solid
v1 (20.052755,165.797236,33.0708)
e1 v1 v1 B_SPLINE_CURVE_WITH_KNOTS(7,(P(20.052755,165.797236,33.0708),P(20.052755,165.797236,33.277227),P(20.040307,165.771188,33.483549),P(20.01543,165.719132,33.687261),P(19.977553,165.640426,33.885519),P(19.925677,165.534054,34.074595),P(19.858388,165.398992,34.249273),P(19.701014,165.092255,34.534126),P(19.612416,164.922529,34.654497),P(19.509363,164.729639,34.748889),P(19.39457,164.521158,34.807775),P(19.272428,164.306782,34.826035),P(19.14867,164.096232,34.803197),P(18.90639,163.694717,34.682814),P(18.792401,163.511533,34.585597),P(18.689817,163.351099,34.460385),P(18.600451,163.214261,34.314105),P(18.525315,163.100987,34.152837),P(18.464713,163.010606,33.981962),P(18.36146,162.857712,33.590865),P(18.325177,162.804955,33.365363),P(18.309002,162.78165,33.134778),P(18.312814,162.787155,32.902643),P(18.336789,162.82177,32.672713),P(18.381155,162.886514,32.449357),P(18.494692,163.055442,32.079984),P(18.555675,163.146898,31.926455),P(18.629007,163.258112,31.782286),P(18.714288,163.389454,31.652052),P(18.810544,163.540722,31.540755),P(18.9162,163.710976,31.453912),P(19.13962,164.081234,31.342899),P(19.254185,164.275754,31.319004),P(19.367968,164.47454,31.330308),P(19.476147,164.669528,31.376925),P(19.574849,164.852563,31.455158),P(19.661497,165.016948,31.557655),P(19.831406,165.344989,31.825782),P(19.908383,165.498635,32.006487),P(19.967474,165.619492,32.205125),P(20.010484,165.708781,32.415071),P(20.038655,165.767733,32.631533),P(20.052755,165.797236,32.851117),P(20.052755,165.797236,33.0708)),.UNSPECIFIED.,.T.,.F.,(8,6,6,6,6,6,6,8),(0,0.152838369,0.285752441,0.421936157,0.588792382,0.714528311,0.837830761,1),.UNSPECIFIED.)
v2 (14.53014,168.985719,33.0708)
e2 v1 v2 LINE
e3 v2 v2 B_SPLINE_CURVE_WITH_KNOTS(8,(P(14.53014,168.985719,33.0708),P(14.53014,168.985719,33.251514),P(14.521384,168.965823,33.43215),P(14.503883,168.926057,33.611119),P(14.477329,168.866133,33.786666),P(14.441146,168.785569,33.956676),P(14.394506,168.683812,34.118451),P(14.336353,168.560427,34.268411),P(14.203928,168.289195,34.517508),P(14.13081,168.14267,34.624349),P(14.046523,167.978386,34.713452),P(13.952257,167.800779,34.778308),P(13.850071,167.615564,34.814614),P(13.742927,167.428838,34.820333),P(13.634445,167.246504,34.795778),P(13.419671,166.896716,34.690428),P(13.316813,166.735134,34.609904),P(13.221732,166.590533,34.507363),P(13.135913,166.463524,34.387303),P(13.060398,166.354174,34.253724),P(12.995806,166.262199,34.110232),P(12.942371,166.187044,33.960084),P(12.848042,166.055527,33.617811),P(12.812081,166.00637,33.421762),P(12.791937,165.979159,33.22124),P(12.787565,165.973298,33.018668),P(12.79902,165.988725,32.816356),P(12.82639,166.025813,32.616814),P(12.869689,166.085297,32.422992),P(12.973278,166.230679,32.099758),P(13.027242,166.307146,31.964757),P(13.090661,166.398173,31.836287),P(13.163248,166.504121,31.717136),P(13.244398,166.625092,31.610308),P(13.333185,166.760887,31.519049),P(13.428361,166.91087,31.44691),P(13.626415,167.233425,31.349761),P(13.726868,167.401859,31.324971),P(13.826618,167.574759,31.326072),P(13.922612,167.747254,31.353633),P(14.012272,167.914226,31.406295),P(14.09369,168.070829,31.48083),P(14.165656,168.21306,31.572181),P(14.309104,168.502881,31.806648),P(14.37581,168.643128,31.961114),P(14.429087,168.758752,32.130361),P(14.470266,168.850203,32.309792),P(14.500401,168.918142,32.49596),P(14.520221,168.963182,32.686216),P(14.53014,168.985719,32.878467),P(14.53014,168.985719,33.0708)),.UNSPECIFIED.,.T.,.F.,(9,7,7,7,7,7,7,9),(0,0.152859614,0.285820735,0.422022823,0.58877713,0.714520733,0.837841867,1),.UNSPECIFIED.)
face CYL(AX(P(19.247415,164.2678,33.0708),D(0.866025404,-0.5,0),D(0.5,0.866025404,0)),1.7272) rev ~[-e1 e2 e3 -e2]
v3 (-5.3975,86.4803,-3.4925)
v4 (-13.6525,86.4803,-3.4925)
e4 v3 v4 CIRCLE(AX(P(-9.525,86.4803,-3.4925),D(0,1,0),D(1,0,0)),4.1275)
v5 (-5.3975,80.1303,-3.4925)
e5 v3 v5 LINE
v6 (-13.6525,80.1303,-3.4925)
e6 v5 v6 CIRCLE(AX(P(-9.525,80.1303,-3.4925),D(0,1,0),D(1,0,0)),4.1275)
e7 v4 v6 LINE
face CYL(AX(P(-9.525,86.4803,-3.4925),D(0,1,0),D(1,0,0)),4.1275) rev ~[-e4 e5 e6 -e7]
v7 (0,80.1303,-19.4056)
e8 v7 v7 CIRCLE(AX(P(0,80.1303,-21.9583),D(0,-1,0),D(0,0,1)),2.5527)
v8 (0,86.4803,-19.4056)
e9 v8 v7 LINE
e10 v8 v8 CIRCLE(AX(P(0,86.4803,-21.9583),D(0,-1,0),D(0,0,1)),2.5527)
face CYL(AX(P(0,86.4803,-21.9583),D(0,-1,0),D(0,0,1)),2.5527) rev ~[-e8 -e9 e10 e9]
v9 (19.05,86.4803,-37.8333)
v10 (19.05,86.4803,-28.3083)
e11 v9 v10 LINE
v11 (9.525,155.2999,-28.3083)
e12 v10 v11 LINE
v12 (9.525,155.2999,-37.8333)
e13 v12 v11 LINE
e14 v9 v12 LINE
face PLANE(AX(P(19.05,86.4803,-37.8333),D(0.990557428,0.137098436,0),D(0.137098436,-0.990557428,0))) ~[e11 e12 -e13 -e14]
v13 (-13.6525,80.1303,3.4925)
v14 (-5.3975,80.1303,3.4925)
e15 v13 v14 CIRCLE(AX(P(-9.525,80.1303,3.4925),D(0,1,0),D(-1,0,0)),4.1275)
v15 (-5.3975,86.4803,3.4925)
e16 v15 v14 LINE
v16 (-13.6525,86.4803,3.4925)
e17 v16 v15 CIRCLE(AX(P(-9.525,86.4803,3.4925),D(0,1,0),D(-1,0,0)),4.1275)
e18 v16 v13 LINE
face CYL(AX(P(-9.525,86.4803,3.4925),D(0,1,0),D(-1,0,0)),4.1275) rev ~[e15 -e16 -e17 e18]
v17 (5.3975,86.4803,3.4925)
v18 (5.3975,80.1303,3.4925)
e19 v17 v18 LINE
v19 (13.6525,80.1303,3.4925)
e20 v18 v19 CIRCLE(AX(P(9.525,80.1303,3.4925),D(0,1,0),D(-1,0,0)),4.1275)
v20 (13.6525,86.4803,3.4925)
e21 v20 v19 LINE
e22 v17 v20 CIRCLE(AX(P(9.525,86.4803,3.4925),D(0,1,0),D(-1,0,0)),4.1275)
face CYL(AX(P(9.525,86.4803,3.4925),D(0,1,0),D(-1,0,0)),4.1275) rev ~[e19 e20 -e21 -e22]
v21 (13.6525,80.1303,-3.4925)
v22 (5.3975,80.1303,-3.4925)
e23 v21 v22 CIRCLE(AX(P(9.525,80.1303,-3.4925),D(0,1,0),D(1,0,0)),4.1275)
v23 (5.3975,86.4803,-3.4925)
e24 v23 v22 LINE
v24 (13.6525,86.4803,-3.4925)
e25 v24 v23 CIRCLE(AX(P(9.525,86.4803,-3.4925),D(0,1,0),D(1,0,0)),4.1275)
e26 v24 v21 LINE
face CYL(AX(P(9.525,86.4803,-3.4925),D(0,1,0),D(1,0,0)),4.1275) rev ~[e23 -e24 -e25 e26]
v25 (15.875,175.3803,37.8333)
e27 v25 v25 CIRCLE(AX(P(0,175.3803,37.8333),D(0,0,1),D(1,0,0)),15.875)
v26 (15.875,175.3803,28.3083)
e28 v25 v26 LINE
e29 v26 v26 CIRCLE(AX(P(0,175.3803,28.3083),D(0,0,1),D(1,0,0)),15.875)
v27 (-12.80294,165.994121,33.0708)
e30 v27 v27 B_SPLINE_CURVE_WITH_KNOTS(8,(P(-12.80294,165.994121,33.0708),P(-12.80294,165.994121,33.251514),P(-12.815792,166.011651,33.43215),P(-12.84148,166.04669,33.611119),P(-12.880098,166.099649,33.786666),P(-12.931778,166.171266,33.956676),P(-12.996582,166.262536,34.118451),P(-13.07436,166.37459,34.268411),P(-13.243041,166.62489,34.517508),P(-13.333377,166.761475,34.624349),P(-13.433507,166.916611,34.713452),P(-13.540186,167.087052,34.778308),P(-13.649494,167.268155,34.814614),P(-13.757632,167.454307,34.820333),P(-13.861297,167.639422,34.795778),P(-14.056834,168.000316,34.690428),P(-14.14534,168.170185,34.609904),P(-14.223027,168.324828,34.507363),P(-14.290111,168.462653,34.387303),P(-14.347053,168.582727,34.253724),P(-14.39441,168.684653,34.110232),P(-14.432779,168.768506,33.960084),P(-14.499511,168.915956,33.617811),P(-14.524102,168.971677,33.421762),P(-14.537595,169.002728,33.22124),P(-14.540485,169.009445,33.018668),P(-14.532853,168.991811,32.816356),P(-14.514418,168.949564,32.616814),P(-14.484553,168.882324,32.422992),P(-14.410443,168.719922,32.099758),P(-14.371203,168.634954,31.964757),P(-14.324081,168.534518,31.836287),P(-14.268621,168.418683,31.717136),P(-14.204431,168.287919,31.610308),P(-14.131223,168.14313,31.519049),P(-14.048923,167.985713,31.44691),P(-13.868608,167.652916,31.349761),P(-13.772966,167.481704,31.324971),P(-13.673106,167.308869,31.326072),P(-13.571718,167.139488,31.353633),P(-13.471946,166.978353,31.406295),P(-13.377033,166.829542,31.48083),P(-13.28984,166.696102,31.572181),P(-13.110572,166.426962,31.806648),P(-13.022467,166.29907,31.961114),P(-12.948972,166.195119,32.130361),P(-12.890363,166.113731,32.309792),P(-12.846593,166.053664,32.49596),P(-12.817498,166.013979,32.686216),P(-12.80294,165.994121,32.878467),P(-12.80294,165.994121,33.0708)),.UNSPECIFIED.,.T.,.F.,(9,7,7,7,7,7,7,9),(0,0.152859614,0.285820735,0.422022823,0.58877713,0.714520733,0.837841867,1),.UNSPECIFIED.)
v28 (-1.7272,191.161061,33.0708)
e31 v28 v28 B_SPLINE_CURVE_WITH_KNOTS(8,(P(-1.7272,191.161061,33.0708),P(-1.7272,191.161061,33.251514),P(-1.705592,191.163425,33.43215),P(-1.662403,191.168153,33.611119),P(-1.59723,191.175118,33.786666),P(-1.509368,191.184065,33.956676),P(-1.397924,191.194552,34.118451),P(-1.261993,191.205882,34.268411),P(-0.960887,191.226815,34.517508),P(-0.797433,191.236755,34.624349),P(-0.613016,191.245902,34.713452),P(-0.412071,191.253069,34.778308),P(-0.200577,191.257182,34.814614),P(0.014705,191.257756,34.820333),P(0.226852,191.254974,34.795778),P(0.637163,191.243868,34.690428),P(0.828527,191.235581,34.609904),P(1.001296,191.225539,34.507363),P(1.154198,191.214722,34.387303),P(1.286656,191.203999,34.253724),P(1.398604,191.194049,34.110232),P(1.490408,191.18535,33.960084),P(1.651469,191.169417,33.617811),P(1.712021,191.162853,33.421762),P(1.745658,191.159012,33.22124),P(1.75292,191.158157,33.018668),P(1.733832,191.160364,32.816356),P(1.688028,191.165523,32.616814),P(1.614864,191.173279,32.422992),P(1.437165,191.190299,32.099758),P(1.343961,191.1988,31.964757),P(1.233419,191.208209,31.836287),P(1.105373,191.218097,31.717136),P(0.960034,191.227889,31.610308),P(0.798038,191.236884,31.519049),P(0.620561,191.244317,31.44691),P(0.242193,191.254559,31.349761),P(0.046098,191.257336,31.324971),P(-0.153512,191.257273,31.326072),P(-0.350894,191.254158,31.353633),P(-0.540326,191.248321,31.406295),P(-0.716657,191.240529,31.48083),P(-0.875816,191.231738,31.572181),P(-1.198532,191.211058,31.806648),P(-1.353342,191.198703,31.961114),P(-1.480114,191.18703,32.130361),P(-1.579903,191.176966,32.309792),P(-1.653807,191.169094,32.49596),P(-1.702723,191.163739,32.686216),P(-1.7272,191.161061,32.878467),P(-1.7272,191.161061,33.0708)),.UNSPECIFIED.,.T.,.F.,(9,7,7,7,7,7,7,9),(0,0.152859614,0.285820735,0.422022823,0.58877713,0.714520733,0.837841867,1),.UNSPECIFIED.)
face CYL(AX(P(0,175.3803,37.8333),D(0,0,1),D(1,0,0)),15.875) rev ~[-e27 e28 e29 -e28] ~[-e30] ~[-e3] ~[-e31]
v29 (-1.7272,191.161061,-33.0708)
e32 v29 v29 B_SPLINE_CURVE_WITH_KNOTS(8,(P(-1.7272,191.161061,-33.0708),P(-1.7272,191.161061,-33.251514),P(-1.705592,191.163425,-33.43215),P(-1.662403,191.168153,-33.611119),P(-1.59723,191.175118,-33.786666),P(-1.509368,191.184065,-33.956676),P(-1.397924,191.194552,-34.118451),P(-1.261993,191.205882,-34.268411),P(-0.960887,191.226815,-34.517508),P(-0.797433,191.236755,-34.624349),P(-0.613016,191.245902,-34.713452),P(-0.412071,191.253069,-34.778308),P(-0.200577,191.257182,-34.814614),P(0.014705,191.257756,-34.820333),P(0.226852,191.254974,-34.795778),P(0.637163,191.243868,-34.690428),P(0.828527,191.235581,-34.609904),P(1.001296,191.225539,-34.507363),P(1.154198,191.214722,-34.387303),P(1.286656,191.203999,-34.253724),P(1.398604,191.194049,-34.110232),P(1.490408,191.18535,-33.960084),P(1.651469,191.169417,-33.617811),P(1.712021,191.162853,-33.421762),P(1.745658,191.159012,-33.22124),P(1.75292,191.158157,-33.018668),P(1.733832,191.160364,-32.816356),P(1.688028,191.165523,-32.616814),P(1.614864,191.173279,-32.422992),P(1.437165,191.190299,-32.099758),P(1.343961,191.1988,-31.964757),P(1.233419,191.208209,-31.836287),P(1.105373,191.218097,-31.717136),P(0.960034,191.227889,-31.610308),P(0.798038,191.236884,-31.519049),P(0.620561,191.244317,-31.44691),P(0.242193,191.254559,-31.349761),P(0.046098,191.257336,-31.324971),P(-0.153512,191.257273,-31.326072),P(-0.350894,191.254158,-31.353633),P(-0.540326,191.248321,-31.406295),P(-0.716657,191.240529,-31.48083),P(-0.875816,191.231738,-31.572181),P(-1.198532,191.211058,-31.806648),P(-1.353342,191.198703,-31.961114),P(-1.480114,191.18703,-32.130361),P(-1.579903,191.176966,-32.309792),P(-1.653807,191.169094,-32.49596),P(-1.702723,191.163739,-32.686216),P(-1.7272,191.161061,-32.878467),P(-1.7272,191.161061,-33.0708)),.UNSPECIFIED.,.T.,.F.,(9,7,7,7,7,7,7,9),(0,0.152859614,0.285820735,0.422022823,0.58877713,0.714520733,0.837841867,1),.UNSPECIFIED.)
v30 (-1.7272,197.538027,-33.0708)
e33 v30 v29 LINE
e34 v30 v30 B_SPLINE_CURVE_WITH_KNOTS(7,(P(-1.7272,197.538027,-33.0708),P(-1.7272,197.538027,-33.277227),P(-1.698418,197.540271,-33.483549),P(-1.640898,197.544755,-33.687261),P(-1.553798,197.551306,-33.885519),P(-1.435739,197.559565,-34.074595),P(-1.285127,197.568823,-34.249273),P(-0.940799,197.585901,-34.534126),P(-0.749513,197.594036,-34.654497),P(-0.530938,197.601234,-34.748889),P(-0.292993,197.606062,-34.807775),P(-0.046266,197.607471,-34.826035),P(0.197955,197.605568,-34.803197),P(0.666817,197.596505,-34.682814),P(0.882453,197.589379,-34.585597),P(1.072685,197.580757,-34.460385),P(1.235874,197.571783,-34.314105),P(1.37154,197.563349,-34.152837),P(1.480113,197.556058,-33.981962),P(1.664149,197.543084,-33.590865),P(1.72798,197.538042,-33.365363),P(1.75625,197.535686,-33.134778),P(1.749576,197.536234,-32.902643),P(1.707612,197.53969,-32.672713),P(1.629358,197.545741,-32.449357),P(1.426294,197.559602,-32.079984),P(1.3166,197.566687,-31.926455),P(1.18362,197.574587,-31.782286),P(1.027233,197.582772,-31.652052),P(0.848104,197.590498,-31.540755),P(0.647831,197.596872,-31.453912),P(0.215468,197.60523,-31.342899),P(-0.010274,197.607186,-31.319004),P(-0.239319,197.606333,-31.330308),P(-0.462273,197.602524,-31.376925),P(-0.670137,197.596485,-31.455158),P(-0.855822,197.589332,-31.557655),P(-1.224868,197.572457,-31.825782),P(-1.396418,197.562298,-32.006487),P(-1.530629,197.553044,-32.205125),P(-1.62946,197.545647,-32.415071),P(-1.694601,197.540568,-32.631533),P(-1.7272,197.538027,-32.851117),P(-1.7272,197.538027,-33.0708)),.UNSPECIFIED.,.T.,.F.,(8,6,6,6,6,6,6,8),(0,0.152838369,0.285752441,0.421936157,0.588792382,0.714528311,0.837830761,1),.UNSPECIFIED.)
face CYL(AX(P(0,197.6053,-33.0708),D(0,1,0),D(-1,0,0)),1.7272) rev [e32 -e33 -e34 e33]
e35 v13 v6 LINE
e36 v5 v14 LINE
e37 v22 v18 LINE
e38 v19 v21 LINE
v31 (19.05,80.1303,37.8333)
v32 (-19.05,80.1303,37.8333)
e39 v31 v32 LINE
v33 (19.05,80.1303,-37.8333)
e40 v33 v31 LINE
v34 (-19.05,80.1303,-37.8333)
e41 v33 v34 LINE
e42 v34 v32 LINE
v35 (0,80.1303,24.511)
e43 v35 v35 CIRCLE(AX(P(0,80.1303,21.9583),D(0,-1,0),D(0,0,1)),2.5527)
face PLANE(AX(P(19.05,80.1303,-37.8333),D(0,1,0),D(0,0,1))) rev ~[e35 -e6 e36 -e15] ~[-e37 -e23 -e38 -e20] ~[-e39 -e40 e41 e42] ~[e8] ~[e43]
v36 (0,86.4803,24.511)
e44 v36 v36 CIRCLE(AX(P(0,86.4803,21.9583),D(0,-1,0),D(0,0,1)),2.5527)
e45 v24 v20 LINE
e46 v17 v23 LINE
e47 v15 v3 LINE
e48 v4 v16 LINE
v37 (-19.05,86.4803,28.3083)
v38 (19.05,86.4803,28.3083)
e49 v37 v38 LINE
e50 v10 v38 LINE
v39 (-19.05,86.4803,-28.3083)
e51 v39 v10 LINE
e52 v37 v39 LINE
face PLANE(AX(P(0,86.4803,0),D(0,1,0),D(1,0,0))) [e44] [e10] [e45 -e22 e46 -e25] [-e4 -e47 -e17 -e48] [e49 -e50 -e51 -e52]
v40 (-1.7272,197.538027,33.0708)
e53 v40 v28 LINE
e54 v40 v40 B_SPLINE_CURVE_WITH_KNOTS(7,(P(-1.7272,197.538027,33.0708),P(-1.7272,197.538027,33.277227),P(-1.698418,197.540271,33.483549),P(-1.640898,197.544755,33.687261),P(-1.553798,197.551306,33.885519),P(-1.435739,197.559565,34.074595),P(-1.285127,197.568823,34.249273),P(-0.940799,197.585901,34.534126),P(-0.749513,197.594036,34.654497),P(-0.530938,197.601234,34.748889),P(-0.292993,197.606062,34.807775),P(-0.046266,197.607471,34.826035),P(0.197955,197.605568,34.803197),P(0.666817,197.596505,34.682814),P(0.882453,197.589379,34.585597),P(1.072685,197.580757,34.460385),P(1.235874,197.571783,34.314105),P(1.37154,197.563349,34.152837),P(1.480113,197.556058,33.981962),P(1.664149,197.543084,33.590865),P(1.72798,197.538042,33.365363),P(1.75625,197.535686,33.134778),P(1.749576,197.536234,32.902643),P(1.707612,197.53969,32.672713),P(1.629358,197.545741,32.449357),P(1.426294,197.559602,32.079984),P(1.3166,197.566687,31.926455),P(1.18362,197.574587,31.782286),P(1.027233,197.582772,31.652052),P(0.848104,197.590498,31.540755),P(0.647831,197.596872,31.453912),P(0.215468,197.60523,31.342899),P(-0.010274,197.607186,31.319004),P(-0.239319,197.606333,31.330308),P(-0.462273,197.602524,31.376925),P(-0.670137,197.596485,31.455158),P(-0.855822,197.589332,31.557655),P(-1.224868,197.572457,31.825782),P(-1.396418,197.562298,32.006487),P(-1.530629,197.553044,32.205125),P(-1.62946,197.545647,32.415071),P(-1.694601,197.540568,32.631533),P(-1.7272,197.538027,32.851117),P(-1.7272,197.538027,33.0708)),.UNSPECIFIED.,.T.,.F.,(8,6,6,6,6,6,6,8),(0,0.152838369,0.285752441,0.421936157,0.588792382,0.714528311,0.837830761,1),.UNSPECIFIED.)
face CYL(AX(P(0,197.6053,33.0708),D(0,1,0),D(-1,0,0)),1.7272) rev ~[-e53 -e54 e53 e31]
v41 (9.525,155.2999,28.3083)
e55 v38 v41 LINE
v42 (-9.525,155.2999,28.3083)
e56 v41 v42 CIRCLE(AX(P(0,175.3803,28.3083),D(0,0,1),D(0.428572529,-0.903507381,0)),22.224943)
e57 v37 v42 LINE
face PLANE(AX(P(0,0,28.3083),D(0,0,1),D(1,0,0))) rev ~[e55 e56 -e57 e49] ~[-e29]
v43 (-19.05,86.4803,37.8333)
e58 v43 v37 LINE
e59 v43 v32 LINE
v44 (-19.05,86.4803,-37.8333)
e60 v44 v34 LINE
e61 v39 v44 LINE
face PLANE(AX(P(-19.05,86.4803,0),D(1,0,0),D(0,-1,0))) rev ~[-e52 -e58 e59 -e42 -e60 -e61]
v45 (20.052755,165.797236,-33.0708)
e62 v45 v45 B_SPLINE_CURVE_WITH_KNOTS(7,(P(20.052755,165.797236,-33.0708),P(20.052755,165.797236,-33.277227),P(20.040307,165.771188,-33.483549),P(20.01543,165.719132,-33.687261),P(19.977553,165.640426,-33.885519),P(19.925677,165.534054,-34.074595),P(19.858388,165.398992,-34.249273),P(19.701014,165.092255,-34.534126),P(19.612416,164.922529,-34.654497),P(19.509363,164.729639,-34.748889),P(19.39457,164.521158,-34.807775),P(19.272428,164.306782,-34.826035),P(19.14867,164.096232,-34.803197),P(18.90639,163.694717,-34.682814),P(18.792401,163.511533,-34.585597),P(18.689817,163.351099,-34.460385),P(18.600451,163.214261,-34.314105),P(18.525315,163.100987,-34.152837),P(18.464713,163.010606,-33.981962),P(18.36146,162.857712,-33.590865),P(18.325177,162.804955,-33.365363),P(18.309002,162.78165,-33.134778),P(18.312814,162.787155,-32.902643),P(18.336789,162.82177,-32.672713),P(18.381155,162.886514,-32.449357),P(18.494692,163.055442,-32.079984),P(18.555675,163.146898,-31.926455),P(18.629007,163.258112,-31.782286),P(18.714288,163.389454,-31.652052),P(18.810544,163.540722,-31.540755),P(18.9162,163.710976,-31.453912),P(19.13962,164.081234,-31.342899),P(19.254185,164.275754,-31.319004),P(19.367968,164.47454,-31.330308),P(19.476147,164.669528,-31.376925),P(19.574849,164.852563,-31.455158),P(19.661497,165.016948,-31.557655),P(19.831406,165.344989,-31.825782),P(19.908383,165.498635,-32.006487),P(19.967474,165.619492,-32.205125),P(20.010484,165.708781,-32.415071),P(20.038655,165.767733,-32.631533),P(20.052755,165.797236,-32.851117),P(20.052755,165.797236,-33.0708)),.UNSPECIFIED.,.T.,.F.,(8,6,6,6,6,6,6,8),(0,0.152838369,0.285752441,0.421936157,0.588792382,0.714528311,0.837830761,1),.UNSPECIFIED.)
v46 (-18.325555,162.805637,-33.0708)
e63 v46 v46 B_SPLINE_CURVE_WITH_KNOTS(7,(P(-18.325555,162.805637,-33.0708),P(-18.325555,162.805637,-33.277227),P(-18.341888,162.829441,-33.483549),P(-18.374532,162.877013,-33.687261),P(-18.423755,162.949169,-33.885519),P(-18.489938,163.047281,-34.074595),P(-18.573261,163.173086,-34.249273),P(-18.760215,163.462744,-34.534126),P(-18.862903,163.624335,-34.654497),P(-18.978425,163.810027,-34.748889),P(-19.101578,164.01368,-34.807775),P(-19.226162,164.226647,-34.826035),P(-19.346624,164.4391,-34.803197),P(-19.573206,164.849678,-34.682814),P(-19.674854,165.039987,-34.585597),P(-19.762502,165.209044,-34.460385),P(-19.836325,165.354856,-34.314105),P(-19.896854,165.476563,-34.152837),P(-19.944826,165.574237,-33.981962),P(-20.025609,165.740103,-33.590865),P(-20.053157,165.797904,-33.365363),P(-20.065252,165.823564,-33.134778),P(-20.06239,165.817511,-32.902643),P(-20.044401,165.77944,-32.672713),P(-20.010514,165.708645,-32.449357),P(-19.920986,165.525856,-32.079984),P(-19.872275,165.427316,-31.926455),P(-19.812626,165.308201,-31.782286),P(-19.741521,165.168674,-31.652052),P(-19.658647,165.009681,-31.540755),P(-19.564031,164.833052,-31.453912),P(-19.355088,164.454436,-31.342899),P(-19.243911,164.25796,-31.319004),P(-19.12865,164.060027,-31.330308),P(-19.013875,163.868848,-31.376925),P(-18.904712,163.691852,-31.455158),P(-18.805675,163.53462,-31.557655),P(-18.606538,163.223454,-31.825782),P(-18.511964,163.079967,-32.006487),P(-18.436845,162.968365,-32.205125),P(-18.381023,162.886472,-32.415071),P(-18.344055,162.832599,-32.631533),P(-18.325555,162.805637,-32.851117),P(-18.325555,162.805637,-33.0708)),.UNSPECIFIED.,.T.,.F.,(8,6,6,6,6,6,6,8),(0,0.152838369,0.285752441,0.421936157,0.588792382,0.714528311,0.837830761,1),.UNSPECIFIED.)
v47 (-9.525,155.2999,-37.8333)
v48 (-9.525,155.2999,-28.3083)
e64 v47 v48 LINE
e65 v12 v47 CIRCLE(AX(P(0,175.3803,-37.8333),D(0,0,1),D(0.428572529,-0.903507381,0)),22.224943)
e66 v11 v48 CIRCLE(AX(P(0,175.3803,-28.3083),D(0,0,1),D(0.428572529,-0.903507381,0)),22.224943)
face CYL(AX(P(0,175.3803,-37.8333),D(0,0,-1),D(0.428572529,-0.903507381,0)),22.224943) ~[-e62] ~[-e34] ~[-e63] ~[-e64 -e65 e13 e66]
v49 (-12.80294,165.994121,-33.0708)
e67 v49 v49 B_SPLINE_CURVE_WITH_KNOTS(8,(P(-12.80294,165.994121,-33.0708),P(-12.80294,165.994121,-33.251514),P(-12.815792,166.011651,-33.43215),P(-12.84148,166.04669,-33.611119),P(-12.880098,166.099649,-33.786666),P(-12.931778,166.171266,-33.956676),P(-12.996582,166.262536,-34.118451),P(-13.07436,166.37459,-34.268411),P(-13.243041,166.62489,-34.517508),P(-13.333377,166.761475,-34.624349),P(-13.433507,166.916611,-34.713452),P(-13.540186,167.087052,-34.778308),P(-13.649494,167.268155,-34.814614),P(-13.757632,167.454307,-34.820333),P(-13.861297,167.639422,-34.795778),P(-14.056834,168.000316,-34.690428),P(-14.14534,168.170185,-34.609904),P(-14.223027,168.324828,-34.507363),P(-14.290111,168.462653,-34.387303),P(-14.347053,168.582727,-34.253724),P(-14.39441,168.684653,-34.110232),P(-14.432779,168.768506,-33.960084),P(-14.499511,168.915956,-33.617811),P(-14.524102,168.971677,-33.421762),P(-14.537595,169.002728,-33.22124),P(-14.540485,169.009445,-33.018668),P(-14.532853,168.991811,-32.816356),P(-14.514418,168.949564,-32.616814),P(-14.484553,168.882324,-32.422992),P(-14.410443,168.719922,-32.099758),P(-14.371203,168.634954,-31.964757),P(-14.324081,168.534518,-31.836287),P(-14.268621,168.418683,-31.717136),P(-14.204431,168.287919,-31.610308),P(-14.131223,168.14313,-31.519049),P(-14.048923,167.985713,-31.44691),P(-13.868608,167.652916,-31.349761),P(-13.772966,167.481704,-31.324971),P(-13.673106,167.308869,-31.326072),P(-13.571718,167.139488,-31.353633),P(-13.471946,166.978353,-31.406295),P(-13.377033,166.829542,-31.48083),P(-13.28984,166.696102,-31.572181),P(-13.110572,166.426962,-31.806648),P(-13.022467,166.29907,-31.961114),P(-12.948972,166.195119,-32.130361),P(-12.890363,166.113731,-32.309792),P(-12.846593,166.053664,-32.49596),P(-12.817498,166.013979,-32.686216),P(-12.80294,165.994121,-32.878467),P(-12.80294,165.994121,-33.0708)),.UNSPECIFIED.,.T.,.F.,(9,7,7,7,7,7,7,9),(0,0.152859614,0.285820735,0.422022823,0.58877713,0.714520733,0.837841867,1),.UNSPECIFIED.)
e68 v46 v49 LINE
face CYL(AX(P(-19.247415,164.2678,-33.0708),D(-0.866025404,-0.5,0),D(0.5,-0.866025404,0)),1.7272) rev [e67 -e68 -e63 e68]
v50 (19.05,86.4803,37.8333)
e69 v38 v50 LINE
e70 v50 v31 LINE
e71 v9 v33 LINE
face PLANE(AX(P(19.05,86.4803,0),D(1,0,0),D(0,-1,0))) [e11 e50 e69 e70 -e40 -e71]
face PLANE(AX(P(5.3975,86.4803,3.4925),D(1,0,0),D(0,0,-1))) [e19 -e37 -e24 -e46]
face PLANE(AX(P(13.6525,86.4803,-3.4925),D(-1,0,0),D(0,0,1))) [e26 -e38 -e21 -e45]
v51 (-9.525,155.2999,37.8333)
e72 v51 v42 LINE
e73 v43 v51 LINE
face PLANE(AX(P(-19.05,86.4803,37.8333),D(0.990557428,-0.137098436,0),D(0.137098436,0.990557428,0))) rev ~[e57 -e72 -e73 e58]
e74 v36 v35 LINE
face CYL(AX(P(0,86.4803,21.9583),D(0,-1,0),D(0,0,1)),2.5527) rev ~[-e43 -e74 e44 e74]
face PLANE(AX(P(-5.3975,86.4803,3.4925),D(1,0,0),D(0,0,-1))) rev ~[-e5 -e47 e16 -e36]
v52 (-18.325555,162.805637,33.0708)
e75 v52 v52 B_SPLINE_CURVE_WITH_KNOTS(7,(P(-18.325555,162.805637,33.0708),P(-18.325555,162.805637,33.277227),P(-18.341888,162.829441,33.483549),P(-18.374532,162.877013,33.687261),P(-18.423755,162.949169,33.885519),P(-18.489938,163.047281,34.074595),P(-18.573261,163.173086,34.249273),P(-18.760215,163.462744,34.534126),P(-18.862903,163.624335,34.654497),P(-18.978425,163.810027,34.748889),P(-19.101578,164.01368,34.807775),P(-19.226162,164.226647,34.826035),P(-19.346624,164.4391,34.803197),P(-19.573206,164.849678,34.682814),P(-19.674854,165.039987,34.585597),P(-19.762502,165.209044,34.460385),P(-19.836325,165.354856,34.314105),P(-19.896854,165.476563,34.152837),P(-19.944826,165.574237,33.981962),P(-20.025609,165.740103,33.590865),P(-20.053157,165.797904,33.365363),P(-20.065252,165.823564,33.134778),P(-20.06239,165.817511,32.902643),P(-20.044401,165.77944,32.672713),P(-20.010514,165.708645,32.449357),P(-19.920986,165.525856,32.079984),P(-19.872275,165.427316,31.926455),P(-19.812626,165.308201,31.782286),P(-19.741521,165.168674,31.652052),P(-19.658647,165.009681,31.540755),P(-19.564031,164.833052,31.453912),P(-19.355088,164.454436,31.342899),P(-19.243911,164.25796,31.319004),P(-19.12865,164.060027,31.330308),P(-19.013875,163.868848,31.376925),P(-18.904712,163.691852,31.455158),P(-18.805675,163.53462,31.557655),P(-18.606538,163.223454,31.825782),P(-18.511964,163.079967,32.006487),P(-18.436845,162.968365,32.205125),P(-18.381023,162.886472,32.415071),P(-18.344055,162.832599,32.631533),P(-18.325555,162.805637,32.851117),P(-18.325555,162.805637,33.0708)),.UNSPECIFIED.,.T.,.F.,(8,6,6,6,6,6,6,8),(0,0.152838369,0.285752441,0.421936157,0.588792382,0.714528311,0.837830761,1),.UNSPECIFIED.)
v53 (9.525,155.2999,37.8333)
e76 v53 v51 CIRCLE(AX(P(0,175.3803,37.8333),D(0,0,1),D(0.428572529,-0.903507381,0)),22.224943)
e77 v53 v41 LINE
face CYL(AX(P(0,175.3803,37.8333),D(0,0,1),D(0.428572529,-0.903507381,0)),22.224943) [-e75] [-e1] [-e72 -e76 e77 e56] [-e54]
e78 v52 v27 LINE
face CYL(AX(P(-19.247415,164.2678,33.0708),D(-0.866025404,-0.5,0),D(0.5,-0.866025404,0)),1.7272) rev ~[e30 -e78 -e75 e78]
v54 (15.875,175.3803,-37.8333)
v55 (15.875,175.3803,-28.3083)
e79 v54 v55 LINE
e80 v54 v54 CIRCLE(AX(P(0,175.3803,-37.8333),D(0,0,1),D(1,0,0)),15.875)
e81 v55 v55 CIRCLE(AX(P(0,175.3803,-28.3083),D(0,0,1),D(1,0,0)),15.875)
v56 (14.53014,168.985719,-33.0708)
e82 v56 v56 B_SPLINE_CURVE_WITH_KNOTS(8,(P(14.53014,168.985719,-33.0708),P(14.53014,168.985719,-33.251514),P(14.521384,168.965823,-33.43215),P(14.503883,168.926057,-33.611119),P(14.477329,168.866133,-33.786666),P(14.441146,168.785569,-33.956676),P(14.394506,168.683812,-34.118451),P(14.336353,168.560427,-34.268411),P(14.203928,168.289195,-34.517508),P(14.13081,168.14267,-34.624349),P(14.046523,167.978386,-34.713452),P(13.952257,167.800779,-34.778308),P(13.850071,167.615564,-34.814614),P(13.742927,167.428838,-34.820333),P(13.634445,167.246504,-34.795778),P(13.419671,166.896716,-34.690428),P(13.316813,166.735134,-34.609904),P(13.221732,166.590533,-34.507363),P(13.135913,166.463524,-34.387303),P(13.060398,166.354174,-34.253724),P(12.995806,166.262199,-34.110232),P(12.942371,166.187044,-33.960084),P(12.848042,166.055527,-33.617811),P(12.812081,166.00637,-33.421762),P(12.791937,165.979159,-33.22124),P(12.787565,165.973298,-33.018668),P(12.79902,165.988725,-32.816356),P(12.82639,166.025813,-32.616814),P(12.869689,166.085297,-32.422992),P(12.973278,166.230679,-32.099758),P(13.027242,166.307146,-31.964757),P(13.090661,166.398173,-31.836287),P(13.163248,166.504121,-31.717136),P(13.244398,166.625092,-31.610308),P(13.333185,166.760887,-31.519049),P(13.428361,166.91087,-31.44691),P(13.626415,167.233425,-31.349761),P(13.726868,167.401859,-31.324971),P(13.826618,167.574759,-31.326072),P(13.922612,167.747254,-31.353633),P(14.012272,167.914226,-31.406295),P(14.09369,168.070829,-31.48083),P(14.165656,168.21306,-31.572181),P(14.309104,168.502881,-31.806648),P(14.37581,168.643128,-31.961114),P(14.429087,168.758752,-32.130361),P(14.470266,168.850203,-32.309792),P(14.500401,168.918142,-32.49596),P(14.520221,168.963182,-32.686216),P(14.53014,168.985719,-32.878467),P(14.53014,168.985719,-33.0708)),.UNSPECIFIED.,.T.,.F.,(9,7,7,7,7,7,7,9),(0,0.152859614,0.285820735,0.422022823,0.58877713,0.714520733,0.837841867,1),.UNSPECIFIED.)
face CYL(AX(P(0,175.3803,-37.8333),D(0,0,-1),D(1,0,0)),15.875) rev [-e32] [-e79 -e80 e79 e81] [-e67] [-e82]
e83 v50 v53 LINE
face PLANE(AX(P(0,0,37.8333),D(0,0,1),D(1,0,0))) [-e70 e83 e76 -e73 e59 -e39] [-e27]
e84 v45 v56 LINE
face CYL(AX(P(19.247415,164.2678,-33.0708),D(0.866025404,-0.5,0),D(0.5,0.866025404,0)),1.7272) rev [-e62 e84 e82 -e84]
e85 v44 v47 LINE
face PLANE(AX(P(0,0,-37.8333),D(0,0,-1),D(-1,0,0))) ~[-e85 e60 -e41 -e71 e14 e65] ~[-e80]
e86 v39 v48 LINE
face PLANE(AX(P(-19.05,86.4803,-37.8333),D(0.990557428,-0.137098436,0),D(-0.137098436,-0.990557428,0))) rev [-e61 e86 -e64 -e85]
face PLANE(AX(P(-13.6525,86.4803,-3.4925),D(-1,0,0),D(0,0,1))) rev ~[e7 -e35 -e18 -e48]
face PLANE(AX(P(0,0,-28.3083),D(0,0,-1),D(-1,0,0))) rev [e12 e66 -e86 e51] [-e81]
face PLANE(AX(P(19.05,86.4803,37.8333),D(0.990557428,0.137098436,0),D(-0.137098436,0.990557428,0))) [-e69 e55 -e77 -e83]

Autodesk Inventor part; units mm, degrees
ref_plane "YZ Plane" through (0, 0, 0) normal (1, 0, 0) x (0, 1, 0)
sketch "Sketch1" plane through (0, 0, 0) normal (0, 0, 1) x (1, 0, 0)
  arc A0 (19.05, 73.7803) -> (-19.05, 73.7803) centre (0, 0) ccw
  line L0 (0, 86.4803) -> (19.05, 86.4803)
  line L1 (19.05, 86.4803) -> (19.05, 73.7803)
  line L2 (0, 76.2) -> (0, 86.4803) construction
  line L3 (0, 86.4803) -> (-19.05, 86.4803)
  line L4 (-19.05, 86.4803) -> (-19.05, 73.7803)
  dimension "d0" = 152.4
  dimension "d1" = 19.05
  dimension "d2" = 12.7
extrude "Extrusion1" add sketch "Sketch1" along normal mid plane 75.6666
sketch "Sketch2" plane through (-19.05, 86.4803, 37.8333) normal (0, 1, 0) x (1, 0, 0)
  line L0 (0, 75.6666) -> (0, 0) construction
  line L1 (0, 37.8333) -> (38.1, 37.8333) construction
  line L2 (38.1, 75.6666) -> (38.1, 0) construction
  line L3 (0, 75.6666) -> (38.1, 75.6666) construction
  line L4 (19.05, 75.6666) -> (19.05, 0) construction
  line L5 (38.1, 0) -> (0, 0) construction
  line L6 (28.575, 34.3408) -> (28.575, 41.3258) construction
  line L7 (24.4475, 34.3408) -> (24.4475, 41.3258)
  line L8 (32.7025, 41.3258) -> (32.7025, 34.3408)
  arc A0 (24.4475, 34.3408) -> (32.7025, 34.3408) centre (28.575, 34.3408) ccw
  arc A1 (32.7025, 41.3258) -> (24.4475, 41.3258) centre (28.575, 41.3258) ccw
  line L9 (13.6525, 34.3408) -> (13.6525, 41.3258)
  line L10 (5.3975, 41.3258) -> (5.3975, 34.3408)
  arc A2 (5.3975, 34.3408) -> (13.6525, 34.3408) centre (9.525, 34.3408) ccw
  arc A3 (13.6525, 41.3258) -> (5.3975, 41.3258) centre (9.525, 41.3258) ccw
  point P0 (19.05, 37.8333)
  point P1 (28.575, 37.8333)
  dimension "d5" = 9.525
  dimension "d6" = 8.255
  dimension "d7" = 15.24
  dimension "d8" = 19.05
  dimension "d170" = 8.255
extrude "Extrusion2" cut sketch "Sketch2" against normal through all
ref_plane "Work Plane1" through (19.05, 73.7803, 37.8333) normal (0, 1, 0) x (-1, 0, 0)
sketch "Sketch5" plane through (0, 0, 37.8333) normal (0, 0, 1) x (1, 0, 0)
  circle A0 centre (0, 175.3803) radius 15.875
  arc A1 (9.525, 155.2999) -> (-9.525, 155.2999) centre (0, 175.3803) ccw
  arc A2 (19.05, 73.7803) -> (-19.05, 73.7803) centre (0, 0) ccw construction
  line L0 (-19.05, 73.7803) -> (19.05, 73.7803) construction
  line L1 (19.05, 86.4803) -> (9.525, 155.2999)
  line L2 (19.05, 86.4803) -> (-19.05, 86.4803) construction
  line L3 (0, 86.4803) -> (0, 175.3803) construction
  line L4 (-19.05, 86.4803) -> (-9.525, 155.2999)
  line L5 (-19.05, 86.4803) -> (19.05, 86.4803)
  dimension "d15" = 31.75
  dimension "d16" = 6.35
  dimension "d17" = 101.6
  dimension "d18" = 9.525
extrude "Extrusion4" add sketch "Sketch5" against normal blind 9.525
ref_plane "Work Plane2" through (0, 197.6053, 37.8333) normal (0, 1, 0) x (-1, 0, 0)
sketch "Sketch6" plane through (0, 197.6053, 37.8333) normal (0, 1, 0) x (-1, 0, 0)
  line L0 (-22.225, -9.525) -> (22.225, -9.525) projected
  circle A0 centre (0, -4.7625) radius 1.7272
  point P0 (0, -37.8333)
  point P1 (9.525, -9.525)
  point P2 (-9.525, -9.525)
  dimension "d21" = 4.7625
  dimension "d22" = 3.4544
extrude "Extrusion5" cut sketch "Sketch6" against normal up to surface
pattern_circular "Circular Pattern1" count 3 over 360 about axis through (0, 175.3803, 37.8333) along (0, 0, -1) of "Extrusion5"
mirror "Mirror1" about plane through (0, 0, 0) normal (0, 0, 1) of "Extrusion4", "Extrusion5", "Circular Pattern1"
sketch "Sketch20" plane through (19.05, 73.7803, 37.8333) normal (1, 0, 0) x (0, 0, -1)
  line L0 (0, 12.7) -> (0, 0) projected
  line L1 (75.6666, 12.7) -> (75.6666, 0) projected
  line L2 (0, 0) -> (75.6666, 0)
  line L3 (75.6666, 0) -> (75.6666, 6.35)
  line L4 (75.6666, 6.35) -> (0, 6.35)
  line L5 (0, 6.35) -> (0, 0)
  point P0 (37.8333, -73.7803)
  point P1 (0, 6.35)
extrude "Extrusion7" cut sketch "Sketch20" against normal through all
sketch "Sketch22" plane through (-19.05, 86.4803, 28.3083) normal (0, 1, 0) x (1, 0, 0)
  line L0 (41.275, 0) -> (-3.175, 0) projected
  line L1 (41.275, 56.6166) -> (-3.175, 56.6166) projected
  line L2 (-3.175, 66.1416) -> (41.275, 66.1416) projected
  point P0 (19.05, 28.3083)
  point P1 (19.05, 6.35)
  point P2 (19.05, 50.2666)
  point P3 (9.525, 0)
  point P4 (28.575, 0)
  point P5 (9.525, 56.6166)
  point P6 (28.575, 56.6166)
  point P7 (28.575, 66.1416)
  point P8 (9.525, 66.1416)
  dimension "d173" = 6.35
  dimension "d174" = 6.35
  dimension "d183" = 15.875
hole "Hole1" at (0, 86.4803, 21.9583) at (0, 86.4803, -21.9583) direction (0, -1, 0) diameter 5.1054 end through all clearance for "Socket Head Cap Screw" size "#10" standard "Ansi Unified Screw Threads"
equation "\"d51\" = 0.125 * Sketch8_Pitch"
equation "\"Sketch8_Pitch\" = 0.79375"
equation "\"d53\" = 60deg"
equation "\"d72\" = 0.125 * Sketch10_Pitch"
equation "\"Sketch10_Pitch\" = 0.79375"
equation "\"d74\" = 60deg"
equation "\"d93\" = 0.125 * Sketch12_Pitch"
equation "\"Sketch12_Pitch\" = 0.79375"
equation "\"d95\" = 60deg"
equation "\"d114\" = 0.125 * Sketch14_Pitch"
equation "\"Sketch14_Pitch\" = 0.79375"
equation "\"d116\" = 60deg"
equation "\"d135\" = 0.125 * Sketch16_Pitch"
equation "\"Sketch16_Pitch\" = 0.79375"
equation "\"d137\" = 60deg"
equation "\"d156\" = 0.125 * Sketch18_Pitch"
equation "\"Sketch18_Pitch\" = 0.79375"
equation "\"d158\" = 60deg"
properties part number "finderMainPartV05"
